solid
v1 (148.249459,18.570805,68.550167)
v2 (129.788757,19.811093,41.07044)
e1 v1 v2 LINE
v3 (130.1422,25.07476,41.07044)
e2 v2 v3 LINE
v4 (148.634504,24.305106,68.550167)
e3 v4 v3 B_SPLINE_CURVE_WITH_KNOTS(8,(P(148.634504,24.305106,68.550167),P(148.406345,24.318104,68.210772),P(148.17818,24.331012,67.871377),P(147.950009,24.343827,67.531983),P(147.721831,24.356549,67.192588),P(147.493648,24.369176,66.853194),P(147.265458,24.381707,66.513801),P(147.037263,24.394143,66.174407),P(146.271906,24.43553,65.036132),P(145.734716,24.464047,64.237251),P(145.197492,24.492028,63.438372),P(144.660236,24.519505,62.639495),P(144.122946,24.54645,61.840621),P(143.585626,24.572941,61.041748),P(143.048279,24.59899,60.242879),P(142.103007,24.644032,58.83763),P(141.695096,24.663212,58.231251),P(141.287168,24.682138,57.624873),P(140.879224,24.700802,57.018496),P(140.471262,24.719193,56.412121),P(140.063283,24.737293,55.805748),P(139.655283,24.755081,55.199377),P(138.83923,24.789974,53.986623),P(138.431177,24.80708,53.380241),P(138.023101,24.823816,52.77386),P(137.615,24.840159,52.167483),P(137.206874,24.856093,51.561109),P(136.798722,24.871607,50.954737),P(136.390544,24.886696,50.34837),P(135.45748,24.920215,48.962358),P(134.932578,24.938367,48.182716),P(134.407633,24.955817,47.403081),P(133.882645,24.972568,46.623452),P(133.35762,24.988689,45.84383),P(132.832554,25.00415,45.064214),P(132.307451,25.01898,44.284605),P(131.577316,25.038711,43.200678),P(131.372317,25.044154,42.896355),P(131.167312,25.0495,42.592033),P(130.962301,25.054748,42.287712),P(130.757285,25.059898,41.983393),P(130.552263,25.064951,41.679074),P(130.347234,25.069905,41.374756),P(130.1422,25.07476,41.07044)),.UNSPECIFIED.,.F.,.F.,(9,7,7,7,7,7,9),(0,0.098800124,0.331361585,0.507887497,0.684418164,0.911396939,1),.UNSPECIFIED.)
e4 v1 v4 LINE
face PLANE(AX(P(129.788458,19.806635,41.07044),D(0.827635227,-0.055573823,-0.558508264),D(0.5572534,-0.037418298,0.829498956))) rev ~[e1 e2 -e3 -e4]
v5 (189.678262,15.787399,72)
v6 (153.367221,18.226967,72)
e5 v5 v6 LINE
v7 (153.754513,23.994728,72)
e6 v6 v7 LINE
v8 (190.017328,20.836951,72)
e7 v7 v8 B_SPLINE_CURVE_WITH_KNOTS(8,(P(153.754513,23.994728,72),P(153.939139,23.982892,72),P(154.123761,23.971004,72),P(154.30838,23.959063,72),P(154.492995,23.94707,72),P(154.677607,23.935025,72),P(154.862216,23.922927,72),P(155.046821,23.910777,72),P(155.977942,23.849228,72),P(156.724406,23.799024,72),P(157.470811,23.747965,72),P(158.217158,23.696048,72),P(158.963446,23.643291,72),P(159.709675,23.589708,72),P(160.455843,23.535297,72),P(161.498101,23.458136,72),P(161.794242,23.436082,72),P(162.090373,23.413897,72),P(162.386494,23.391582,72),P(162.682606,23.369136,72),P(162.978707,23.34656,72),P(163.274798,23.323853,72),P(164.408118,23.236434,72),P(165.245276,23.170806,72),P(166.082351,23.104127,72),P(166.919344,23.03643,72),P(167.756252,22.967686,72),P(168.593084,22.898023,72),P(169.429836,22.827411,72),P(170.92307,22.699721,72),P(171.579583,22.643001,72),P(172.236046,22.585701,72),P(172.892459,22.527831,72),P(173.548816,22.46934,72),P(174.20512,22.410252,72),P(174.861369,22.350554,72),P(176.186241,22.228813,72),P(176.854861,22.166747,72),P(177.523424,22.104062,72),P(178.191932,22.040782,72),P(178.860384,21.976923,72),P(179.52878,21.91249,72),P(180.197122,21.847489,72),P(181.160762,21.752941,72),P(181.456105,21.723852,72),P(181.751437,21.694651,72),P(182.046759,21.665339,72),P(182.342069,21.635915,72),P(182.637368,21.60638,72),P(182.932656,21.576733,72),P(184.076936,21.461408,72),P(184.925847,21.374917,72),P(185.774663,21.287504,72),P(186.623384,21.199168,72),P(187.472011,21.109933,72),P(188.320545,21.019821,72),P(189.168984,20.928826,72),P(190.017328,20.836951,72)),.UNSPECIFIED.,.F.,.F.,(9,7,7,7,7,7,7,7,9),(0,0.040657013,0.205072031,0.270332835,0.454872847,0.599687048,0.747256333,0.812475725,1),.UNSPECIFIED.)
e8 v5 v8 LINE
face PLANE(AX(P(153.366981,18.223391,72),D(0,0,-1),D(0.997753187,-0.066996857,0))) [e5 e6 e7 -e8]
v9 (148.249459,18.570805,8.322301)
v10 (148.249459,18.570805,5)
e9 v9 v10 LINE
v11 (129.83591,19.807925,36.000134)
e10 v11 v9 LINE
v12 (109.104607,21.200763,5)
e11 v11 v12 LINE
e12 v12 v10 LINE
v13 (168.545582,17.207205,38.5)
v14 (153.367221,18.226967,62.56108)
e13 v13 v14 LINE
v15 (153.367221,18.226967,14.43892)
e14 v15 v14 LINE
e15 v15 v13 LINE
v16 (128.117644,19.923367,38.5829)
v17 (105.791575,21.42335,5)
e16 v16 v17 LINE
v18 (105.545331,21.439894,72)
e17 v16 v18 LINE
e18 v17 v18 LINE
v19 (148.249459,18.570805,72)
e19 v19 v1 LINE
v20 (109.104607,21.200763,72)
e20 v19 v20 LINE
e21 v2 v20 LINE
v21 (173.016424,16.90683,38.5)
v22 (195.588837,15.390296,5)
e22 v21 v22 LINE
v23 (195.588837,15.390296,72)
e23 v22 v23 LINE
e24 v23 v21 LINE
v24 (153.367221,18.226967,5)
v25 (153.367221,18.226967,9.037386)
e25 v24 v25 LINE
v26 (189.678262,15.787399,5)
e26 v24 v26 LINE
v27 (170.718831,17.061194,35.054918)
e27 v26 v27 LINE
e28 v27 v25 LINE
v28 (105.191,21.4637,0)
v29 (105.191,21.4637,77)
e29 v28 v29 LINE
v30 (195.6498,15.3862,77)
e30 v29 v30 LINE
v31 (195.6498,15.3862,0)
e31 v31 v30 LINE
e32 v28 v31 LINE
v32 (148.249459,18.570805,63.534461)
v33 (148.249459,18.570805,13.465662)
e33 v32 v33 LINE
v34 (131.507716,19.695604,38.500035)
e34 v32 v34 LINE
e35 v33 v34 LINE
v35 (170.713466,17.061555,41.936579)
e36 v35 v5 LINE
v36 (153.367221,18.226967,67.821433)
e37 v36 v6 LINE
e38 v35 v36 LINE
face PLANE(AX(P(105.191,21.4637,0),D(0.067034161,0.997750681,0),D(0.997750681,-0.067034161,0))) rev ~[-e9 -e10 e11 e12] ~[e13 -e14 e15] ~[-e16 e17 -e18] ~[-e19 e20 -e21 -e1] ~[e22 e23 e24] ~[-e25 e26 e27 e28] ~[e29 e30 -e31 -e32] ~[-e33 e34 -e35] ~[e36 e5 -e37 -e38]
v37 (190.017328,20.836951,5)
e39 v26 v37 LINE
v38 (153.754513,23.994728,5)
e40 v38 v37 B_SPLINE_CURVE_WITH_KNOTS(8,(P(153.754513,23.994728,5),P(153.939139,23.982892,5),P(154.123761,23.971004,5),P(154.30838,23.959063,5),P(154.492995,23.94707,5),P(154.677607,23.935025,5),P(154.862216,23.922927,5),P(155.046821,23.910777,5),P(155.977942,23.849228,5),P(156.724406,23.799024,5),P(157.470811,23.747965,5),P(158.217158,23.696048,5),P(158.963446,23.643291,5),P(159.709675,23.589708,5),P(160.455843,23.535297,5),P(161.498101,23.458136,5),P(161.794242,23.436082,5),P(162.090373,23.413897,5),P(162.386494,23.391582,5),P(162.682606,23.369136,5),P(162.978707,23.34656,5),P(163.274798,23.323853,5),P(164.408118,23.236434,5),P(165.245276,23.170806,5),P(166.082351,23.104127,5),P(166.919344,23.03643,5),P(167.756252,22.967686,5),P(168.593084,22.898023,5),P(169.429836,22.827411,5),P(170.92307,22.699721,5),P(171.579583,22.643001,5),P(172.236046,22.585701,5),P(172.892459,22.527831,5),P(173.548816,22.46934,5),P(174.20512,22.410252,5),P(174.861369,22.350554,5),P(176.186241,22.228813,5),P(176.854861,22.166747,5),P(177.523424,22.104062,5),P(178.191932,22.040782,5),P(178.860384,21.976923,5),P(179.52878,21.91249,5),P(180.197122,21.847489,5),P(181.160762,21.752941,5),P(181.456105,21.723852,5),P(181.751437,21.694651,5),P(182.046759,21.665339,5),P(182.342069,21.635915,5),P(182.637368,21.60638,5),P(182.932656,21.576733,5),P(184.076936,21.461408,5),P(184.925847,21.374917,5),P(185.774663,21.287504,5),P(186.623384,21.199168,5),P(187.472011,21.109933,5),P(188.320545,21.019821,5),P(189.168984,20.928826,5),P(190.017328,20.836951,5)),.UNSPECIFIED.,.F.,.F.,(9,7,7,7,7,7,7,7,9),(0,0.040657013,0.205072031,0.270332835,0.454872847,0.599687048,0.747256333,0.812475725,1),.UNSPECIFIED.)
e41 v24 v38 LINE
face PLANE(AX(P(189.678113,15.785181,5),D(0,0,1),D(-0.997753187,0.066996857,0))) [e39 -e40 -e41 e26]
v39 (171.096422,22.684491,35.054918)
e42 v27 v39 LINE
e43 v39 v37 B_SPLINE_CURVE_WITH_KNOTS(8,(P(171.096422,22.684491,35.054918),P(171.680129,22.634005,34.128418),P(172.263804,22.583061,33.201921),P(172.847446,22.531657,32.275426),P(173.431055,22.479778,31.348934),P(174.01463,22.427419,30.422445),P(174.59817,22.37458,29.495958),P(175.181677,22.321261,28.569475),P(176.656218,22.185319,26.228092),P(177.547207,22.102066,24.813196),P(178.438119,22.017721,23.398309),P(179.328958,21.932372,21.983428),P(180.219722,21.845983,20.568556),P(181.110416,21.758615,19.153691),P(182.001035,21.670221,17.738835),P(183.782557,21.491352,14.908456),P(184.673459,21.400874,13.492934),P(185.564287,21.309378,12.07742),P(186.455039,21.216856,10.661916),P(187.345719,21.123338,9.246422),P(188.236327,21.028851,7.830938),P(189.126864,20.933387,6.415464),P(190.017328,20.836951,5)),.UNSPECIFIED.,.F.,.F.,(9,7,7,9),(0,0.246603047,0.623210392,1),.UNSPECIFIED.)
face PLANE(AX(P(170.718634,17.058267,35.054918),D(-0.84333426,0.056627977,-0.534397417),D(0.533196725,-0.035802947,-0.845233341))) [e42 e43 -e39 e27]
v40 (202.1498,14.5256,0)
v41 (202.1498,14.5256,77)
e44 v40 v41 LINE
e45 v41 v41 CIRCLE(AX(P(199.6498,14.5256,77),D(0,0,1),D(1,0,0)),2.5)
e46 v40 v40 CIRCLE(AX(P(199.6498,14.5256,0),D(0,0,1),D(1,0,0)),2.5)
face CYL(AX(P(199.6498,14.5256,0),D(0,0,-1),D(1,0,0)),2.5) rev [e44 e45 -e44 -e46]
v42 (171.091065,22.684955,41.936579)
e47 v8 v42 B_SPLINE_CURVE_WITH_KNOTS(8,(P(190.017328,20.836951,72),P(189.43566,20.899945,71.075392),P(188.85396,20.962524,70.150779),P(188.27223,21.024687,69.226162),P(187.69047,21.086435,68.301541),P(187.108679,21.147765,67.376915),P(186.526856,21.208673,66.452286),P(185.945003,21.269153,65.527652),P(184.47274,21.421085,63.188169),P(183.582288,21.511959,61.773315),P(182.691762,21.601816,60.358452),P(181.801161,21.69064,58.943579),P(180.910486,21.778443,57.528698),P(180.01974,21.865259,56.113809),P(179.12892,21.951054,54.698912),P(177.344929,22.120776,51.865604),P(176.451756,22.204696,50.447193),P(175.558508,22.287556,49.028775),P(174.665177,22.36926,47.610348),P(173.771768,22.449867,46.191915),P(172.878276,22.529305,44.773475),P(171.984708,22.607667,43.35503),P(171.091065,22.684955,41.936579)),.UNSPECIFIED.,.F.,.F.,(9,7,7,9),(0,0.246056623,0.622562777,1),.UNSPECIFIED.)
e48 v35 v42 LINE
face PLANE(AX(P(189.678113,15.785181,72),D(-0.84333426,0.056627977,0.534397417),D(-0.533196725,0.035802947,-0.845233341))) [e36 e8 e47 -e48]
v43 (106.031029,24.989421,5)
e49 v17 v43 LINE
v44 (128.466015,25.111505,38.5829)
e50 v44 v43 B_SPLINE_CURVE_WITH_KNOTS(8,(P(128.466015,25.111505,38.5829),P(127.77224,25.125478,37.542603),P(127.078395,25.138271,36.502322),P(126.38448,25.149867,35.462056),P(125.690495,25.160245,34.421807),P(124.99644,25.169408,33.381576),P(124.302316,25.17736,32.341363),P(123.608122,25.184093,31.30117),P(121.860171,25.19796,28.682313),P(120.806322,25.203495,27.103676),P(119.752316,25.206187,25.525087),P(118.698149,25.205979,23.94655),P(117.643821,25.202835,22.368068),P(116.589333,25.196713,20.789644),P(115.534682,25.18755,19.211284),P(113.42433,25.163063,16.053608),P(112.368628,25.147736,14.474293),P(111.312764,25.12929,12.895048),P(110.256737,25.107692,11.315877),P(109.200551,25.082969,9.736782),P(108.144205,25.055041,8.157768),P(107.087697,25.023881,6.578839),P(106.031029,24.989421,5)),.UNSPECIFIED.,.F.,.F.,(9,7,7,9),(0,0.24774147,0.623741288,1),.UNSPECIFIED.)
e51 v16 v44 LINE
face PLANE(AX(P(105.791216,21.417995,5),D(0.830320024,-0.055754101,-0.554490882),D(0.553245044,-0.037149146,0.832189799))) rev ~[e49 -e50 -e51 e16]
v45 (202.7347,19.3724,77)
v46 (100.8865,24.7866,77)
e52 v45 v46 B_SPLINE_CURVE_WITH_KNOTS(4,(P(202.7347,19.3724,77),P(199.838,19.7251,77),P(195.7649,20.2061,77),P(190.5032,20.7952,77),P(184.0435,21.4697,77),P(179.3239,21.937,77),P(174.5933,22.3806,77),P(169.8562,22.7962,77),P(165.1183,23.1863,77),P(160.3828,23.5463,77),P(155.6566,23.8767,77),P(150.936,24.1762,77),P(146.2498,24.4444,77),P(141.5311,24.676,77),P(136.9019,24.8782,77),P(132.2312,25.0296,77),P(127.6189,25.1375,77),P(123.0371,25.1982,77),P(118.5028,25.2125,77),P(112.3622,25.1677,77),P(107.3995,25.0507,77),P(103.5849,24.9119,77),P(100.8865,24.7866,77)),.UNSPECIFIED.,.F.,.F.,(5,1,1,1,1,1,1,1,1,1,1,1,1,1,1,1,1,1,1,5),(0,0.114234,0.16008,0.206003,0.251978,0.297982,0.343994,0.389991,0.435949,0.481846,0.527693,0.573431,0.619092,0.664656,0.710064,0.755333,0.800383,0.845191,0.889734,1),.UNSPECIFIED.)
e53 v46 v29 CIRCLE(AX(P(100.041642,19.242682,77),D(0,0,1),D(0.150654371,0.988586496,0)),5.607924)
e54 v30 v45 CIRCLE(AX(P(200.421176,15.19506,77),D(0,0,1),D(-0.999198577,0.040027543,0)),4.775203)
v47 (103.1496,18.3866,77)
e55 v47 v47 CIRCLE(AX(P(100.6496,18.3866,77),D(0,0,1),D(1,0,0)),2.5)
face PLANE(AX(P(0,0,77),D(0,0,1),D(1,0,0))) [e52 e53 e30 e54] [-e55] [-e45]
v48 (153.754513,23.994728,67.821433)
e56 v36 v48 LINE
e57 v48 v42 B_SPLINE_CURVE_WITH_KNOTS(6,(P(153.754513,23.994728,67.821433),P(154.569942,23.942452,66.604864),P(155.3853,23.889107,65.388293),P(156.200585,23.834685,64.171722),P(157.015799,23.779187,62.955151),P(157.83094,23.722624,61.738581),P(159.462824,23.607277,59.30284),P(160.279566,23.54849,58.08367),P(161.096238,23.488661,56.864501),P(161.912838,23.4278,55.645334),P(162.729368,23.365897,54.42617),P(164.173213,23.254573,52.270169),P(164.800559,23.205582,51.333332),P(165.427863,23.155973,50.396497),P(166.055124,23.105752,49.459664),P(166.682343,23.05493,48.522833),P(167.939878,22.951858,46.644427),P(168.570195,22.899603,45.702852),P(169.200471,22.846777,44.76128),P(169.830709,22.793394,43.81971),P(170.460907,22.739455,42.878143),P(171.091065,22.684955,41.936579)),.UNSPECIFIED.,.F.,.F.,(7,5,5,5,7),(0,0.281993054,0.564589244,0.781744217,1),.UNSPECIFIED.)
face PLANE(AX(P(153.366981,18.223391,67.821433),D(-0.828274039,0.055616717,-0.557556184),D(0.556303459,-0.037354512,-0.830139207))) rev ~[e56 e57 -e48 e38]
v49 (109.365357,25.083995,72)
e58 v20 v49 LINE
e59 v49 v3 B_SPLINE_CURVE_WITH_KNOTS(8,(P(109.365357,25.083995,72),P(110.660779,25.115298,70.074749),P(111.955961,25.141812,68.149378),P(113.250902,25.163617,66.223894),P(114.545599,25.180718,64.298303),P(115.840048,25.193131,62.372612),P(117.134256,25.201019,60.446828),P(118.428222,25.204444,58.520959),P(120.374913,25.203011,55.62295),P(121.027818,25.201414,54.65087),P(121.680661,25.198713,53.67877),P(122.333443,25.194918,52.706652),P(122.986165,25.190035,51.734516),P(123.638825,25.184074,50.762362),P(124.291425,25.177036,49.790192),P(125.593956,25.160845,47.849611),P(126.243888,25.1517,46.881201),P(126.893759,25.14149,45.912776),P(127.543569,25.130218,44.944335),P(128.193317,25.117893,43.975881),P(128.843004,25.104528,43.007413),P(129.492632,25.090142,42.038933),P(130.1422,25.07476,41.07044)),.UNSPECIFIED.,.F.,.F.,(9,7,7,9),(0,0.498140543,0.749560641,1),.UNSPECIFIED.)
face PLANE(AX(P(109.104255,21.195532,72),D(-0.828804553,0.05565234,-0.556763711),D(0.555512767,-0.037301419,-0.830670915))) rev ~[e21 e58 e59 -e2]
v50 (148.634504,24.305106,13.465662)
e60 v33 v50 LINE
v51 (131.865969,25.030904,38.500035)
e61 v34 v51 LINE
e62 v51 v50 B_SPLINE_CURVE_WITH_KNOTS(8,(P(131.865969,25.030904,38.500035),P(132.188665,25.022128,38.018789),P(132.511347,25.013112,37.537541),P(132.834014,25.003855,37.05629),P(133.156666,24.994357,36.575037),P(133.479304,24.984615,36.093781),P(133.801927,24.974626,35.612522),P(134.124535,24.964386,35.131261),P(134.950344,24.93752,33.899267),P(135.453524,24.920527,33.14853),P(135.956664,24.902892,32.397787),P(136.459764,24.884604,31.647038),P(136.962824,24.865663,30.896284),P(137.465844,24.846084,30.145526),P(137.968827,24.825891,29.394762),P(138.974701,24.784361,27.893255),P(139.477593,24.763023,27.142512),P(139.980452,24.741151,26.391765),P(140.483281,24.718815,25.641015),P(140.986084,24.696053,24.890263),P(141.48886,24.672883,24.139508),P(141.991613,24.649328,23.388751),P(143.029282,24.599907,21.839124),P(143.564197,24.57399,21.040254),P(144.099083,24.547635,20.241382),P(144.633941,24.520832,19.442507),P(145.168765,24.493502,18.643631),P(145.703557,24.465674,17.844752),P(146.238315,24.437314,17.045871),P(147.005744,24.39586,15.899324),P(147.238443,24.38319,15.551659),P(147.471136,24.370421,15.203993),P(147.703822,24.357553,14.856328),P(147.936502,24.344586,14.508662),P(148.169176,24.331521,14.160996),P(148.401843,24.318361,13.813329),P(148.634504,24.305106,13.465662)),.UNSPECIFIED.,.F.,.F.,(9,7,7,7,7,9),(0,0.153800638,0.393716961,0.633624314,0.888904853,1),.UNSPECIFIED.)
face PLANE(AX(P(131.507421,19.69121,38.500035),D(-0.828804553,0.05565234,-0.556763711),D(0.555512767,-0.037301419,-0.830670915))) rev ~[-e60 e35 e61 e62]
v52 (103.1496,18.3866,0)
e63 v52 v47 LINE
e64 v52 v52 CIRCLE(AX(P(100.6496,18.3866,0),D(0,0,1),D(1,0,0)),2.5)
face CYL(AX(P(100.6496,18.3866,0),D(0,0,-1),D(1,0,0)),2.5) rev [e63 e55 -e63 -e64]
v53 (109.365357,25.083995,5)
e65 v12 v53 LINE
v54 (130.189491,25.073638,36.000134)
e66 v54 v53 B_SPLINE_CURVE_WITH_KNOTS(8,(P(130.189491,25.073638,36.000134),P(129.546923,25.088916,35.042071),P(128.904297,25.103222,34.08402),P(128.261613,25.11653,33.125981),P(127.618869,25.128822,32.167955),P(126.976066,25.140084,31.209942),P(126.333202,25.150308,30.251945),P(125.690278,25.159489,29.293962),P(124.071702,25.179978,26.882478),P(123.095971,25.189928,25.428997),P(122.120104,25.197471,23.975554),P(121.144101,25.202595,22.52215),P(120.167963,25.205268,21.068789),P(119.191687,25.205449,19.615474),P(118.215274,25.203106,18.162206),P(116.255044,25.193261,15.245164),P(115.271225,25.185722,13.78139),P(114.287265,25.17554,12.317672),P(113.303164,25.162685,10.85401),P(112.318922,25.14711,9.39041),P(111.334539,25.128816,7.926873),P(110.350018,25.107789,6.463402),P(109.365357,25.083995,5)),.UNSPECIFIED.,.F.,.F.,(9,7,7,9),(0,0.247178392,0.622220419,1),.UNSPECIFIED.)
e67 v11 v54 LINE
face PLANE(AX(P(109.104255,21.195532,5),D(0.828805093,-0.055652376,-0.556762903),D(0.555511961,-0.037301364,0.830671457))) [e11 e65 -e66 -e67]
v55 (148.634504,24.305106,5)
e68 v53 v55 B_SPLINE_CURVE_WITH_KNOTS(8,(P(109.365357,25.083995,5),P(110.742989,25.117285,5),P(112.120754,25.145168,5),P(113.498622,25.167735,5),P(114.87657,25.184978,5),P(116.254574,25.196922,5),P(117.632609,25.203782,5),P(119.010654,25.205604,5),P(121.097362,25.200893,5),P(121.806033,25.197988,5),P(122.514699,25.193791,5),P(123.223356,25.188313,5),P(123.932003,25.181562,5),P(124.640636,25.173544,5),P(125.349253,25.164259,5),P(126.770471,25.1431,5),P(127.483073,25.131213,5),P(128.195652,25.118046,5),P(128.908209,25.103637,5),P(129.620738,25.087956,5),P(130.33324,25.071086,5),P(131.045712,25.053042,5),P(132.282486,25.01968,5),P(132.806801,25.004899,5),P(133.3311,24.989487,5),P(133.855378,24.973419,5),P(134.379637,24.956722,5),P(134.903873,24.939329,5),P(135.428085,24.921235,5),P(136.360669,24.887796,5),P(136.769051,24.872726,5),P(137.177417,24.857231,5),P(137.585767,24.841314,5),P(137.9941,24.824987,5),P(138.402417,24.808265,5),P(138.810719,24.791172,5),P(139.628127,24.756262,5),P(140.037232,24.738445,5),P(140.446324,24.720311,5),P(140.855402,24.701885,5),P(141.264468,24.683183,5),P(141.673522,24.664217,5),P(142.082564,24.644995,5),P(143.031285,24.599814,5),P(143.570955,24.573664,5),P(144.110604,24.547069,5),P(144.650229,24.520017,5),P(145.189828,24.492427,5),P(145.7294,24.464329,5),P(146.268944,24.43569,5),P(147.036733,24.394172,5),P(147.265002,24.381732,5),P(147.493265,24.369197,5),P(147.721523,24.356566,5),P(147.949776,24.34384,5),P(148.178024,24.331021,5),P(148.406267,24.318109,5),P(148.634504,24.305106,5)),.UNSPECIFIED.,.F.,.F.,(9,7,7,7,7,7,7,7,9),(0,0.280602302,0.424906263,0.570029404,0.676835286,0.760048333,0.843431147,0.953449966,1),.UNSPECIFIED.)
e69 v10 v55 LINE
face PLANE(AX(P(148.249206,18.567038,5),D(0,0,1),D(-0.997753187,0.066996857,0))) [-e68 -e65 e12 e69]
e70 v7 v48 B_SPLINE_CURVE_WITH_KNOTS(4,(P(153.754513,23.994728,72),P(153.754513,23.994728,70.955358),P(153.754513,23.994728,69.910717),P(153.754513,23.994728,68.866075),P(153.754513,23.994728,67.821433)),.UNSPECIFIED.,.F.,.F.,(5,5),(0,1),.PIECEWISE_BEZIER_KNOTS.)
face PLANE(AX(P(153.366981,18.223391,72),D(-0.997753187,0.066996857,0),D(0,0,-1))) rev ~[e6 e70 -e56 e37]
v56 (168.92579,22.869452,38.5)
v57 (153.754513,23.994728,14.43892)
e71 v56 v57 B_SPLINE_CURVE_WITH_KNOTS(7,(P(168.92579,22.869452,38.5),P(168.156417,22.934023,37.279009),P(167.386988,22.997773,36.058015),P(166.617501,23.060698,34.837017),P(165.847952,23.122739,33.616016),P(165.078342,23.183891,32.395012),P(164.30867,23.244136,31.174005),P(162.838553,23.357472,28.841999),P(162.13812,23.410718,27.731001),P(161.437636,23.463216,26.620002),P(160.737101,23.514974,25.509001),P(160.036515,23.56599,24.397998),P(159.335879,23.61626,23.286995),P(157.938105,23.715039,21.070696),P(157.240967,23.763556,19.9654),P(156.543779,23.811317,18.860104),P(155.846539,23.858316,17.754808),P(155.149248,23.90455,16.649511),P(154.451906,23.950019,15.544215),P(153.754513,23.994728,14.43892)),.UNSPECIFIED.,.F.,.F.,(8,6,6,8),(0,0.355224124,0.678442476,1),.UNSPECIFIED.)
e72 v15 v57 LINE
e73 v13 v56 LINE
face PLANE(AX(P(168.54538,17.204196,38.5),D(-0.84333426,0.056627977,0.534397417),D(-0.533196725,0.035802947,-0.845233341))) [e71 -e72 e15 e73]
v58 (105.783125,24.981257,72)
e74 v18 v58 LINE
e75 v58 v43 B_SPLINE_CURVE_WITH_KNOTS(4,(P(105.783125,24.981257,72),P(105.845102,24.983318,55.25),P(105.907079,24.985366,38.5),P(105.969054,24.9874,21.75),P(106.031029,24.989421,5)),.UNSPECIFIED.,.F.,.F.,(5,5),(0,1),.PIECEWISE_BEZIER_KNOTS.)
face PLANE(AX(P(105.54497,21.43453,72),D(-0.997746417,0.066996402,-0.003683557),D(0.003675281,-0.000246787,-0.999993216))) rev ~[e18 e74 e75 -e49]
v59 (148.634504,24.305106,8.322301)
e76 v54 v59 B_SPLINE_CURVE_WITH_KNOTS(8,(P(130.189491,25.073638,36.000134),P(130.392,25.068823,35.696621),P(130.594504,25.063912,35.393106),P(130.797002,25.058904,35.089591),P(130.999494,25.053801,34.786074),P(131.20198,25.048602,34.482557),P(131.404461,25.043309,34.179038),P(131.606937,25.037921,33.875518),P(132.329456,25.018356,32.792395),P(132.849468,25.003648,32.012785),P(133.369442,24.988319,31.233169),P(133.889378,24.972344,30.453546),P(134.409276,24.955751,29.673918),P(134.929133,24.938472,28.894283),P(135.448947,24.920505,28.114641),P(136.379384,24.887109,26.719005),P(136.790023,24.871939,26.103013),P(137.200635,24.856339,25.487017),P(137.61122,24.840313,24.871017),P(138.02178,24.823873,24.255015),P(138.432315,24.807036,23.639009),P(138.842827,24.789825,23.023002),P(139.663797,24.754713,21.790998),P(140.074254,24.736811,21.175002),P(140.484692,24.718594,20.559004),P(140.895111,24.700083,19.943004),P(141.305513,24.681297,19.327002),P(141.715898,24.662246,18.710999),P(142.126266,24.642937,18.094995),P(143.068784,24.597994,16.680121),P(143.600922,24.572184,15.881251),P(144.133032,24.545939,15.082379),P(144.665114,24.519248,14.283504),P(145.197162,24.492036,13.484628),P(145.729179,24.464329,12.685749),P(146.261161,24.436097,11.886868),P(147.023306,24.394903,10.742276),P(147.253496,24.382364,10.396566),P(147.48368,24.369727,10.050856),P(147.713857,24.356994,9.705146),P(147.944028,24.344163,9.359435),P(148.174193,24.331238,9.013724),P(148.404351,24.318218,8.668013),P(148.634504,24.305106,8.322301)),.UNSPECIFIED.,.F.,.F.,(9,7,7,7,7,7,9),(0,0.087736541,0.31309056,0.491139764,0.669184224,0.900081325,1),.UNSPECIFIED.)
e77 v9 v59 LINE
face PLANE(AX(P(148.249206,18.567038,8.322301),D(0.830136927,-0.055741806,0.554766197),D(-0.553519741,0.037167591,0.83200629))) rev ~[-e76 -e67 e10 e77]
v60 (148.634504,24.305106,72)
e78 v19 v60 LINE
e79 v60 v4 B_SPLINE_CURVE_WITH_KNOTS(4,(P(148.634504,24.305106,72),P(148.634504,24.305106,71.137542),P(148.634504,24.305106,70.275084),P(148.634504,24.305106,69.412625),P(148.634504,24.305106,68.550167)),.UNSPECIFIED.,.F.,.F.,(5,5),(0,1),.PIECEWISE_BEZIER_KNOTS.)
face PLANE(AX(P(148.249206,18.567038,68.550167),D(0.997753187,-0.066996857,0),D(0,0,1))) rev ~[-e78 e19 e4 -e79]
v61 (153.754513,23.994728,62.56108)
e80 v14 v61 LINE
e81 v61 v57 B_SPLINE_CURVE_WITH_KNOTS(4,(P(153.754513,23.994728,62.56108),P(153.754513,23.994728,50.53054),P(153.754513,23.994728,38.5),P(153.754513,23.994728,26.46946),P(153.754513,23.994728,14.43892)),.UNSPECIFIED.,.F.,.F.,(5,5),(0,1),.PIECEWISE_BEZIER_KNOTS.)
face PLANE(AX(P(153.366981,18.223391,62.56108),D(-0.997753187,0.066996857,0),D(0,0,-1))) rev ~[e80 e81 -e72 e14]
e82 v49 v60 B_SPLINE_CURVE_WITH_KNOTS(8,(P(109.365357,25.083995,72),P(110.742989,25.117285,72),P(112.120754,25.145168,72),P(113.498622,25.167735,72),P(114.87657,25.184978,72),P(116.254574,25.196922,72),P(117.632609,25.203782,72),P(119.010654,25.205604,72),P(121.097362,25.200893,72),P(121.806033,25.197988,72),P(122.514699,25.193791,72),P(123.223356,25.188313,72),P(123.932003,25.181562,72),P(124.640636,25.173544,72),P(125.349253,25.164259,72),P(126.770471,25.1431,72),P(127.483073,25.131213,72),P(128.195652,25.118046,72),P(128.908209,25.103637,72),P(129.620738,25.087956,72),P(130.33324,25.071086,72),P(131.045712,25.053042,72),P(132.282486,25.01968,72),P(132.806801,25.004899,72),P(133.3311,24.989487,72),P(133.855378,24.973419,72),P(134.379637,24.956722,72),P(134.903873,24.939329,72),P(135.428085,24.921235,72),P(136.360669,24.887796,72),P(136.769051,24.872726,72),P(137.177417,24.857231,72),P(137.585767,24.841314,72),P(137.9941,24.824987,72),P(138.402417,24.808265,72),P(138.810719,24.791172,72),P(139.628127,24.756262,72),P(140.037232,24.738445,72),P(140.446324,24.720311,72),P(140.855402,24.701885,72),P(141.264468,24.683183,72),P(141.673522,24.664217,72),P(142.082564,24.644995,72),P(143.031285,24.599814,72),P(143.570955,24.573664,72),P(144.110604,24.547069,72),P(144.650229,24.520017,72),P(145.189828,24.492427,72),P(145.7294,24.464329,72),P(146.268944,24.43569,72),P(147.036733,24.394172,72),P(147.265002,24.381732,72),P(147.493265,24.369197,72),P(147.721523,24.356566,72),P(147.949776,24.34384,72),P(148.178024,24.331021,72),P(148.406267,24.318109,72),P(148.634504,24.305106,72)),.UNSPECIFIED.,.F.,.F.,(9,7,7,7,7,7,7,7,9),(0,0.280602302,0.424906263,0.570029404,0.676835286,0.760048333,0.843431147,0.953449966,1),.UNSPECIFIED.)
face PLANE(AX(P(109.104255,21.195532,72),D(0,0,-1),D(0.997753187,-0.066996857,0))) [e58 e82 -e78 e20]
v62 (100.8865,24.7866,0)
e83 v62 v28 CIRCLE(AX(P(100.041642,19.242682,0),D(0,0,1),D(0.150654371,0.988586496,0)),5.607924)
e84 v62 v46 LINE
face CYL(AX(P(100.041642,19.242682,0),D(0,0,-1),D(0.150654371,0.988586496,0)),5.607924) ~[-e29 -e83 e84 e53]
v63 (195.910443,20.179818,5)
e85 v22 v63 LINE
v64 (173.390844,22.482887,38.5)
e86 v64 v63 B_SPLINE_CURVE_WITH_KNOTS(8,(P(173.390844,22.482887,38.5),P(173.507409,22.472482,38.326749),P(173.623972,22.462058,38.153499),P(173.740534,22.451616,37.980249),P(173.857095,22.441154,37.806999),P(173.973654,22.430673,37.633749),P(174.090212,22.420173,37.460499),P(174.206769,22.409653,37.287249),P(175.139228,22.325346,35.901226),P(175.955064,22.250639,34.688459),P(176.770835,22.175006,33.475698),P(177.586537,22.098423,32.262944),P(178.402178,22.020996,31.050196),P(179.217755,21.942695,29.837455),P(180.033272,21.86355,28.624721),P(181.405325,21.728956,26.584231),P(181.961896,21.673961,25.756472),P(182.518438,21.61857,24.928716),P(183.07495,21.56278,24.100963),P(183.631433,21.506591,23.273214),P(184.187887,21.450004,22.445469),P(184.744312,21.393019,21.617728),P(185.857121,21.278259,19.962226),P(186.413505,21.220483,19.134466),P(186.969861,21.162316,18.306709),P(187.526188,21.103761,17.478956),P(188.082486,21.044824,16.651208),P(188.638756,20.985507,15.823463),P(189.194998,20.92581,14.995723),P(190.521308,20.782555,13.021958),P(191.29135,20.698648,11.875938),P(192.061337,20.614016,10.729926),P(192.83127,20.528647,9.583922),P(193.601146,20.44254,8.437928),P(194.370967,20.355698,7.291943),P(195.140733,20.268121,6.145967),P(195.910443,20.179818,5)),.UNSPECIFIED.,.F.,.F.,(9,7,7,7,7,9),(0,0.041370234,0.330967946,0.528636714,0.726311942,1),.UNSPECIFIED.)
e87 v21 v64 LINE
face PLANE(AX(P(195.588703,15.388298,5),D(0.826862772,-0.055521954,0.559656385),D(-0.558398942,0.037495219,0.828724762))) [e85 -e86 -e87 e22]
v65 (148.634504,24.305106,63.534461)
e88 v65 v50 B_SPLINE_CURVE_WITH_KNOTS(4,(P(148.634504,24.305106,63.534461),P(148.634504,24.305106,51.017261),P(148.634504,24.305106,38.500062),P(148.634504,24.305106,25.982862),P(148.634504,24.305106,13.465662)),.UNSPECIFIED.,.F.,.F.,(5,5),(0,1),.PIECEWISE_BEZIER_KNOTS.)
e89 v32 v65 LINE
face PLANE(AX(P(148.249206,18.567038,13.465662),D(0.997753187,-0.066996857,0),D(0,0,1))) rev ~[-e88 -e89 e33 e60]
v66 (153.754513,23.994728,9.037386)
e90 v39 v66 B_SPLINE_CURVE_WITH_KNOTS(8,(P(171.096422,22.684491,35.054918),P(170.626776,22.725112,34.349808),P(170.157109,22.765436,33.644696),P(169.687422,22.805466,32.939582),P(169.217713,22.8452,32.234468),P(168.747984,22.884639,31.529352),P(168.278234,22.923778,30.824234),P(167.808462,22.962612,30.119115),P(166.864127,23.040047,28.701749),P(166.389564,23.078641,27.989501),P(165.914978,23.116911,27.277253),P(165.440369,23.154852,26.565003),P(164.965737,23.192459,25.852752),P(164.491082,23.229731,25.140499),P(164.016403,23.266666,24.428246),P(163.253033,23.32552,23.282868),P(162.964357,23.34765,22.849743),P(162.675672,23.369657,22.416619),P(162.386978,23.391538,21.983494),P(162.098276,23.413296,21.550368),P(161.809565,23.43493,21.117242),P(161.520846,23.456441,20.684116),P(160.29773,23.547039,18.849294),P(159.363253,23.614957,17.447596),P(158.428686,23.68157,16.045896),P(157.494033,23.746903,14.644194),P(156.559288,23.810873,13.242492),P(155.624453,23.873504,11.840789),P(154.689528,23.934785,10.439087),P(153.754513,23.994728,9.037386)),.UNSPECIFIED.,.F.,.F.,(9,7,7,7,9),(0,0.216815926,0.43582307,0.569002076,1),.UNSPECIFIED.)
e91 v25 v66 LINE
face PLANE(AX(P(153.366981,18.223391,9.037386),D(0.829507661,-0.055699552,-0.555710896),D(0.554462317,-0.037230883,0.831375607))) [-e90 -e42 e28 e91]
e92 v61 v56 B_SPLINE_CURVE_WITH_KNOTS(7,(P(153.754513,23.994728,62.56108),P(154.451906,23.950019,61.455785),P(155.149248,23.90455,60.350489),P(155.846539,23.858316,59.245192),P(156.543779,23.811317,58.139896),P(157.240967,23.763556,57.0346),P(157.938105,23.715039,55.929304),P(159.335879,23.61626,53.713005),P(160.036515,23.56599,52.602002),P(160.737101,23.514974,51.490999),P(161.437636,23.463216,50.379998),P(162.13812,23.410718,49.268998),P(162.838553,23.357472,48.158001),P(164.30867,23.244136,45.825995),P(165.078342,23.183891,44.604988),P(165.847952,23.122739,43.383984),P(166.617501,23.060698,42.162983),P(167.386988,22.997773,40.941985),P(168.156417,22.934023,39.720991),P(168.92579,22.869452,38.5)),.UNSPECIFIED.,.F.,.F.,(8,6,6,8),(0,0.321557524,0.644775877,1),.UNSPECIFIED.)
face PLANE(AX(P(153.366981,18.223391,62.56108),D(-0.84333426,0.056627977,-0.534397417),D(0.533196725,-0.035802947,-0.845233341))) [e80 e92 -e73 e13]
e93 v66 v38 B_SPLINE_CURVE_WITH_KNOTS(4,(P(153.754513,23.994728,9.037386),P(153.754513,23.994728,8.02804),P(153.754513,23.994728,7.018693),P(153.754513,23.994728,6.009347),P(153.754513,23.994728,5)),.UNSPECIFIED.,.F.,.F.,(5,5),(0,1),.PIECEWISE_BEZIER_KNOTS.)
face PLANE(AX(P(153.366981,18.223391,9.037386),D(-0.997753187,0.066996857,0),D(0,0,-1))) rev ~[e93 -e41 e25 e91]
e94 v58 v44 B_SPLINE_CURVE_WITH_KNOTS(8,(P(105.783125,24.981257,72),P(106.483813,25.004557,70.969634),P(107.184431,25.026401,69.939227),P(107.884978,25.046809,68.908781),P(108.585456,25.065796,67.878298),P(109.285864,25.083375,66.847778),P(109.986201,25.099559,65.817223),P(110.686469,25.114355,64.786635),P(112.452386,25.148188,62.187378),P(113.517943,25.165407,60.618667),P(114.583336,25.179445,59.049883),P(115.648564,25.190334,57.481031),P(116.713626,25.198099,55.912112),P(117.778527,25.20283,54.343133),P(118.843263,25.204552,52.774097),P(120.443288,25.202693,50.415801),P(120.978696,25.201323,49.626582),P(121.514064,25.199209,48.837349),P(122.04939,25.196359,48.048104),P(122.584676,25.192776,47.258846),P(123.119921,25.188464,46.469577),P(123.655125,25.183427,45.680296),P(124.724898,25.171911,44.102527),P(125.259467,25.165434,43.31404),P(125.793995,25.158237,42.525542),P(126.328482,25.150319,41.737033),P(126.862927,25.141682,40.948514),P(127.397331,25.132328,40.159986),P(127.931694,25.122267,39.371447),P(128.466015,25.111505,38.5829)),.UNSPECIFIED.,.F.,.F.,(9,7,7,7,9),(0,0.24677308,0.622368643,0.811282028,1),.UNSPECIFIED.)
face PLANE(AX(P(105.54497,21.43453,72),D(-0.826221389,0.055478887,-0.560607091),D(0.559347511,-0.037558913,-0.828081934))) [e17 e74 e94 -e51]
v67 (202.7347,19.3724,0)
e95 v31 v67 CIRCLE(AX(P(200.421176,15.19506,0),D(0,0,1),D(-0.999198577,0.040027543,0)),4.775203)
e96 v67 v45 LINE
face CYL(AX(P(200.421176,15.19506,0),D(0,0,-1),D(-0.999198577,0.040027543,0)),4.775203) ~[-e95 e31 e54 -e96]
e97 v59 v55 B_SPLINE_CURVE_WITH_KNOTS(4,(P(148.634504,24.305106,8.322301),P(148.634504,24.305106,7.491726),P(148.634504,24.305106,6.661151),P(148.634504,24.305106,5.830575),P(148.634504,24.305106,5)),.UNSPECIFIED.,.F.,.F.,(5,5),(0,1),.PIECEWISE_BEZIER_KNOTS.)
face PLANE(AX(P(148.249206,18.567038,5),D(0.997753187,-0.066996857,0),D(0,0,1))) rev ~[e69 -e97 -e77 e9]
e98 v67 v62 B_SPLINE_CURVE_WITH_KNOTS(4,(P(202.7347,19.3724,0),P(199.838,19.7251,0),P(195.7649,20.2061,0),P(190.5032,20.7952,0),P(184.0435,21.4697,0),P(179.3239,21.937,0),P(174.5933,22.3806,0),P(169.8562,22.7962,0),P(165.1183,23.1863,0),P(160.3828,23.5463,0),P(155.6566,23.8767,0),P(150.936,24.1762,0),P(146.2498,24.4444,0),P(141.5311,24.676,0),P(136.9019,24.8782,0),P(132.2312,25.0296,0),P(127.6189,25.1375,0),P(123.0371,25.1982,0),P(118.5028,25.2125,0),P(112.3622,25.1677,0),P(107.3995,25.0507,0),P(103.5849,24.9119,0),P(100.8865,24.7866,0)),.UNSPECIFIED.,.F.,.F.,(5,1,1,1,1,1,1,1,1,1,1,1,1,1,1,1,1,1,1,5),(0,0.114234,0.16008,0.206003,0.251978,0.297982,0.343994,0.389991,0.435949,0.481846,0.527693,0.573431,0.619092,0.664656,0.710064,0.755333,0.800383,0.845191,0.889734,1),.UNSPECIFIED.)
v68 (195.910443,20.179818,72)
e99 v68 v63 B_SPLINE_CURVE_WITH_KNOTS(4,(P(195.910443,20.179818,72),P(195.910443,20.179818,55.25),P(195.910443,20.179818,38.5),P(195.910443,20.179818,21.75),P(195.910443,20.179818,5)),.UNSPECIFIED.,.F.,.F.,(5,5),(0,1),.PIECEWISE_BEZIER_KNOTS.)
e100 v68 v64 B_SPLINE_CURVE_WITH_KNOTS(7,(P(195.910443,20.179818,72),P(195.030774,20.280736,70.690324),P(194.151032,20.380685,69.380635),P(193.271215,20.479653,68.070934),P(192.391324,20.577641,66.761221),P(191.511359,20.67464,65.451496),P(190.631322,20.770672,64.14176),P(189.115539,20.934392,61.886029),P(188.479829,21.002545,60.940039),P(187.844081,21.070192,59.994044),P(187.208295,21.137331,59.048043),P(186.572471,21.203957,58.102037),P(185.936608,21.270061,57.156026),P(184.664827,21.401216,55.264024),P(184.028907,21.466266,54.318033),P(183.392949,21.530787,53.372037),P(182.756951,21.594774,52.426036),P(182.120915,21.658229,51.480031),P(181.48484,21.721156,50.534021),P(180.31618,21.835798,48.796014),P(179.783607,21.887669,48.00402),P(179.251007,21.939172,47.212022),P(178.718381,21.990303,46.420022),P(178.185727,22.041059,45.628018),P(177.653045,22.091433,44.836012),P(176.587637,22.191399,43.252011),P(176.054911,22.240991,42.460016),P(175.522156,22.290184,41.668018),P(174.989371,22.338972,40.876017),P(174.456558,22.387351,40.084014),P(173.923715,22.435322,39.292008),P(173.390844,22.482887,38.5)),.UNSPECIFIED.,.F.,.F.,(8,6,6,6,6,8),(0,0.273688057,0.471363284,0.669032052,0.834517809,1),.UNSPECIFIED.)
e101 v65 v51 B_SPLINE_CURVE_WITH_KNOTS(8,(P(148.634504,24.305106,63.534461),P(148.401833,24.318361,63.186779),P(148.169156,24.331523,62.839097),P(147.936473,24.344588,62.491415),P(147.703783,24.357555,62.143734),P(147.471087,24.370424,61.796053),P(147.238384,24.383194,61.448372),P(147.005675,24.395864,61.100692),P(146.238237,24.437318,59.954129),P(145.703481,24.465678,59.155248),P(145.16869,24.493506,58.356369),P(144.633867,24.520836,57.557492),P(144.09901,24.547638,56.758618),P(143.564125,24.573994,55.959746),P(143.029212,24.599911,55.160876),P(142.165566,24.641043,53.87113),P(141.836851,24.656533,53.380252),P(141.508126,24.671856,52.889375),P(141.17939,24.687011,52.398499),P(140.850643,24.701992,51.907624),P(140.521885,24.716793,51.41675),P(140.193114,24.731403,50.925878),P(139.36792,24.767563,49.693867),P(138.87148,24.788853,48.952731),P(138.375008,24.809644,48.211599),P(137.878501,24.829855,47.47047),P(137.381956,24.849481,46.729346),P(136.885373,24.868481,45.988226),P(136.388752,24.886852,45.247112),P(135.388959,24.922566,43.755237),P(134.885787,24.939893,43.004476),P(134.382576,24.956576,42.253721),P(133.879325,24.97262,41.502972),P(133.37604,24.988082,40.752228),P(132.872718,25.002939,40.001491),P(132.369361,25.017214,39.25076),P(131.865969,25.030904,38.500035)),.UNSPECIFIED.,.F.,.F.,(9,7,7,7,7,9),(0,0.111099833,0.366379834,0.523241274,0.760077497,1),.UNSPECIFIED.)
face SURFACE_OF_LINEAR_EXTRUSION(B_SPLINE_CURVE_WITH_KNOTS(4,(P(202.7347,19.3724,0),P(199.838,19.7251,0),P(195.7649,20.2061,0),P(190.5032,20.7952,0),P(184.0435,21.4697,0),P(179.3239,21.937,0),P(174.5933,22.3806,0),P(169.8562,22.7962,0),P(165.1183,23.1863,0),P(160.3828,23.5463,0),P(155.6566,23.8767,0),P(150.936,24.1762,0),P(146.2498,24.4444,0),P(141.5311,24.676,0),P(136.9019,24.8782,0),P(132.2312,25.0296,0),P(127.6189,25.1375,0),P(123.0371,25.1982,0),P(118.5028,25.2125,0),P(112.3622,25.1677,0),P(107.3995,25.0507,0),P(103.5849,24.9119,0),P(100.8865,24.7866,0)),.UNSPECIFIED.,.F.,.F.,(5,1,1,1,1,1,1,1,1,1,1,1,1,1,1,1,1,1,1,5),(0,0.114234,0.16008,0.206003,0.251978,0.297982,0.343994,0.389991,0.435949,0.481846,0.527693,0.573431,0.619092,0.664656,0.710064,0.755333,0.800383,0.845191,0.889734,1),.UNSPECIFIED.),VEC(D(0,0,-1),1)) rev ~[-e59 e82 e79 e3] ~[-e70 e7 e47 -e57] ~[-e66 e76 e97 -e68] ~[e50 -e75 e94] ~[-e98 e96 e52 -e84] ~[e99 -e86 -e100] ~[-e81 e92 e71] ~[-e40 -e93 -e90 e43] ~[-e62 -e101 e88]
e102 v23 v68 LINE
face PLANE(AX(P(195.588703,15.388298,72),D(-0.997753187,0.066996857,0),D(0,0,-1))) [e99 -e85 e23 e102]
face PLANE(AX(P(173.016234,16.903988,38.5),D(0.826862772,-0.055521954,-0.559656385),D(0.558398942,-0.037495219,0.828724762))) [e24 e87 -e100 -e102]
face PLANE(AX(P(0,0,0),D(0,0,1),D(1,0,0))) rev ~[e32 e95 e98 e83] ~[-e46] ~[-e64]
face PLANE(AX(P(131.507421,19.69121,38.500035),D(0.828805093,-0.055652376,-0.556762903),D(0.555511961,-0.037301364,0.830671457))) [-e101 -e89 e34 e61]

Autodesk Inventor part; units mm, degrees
ref_plane "YZ Plane" through (0, 0, 0) normal (1, 0, 0) x (0, 1, 0)
ref_plane "XZ Plane" through (0, 0, 0) normal (0, 1, 0) x (-1, 0, 0)
ref_plane "XY Plane" through (0, 0, 0) normal (0, 0, 1) x (1, 0, 0)
sketch "Sketch2" plane through (0, 0, 0) normal (0, 0, 1) x (1, 0, 0)
  spline S0 degree 5 number of poles 204
  circle A0 centre (79.5137, 4.5678) radius 15.1135
  line L0 (79.5137, 4.5678) -> (79.5137, -15.4763) construction
  line L1 (79.5137, 4.5678) -> (209.6498, 4.5678) construction
  line L2 (319.6498, 0.0573) -> (219.6498, 0.0573) construction
  line L3 (219.6499, 18.7671) -> (219.6499, 18.7671) construction
  line L4 (28.0055, 4.5054) -> (28.0055, -2.4946)
  line L5 (19.6272, 1.0326) -> (319.6498, 0.0573) construction
  line L6 (49.7105, 14.4213) -> (55.6079, 14.4213)
  line L7 (49.7104, -8.4915) -> (55.6078, -8.4915)
  line L8 (28.0055, 4.5054) -> (49.7105, 14.4213)
  line L9 (28.0055, -2.4946) -> (49.7104, -8.4915)
  line L10 (55.6079, 14.4213) -> (55.6079, 20.8729)
  line L11 (55.6078, -8.4915) -> (55.6078, -14.1513)
  line L12 (108.6496, 16.3299) -> (108.6496, -7.1942)
  line L13 (110.8735, -9.1817) -> (193.8736, 0.1678)
  line L14 (195.6498, 2.1552) -> (195.6498, 6.9805)
  arc A1 (108.6496, -7.1942) -> (110.8735, -9.1817) centre (110.6496, -7.1942) ccw
  arc A2 (193.8736, 0.1678) -> (195.6498, 2.1552) centre (193.6498, 2.1552) ccw
  circle A3 centre (209.6498, 0.0573) radius 6.214
  line L15 (108.6496, 18.5678) -> (195.6498, 8.7678)
  circle A4 centre (100.6496, 18.3866) radius 2.5
  circle A5 centre (199.6498, 14.5256) radius 2.5
  spline S1 degree 4 poles (202.7347, 19.3724) (199.838, 19.7251) (195.7649, 20.2061) (190.5032, 20.7952) (184.0435, 21.4697) (179.3239, 21.937) (174.5933, 22.3806) (169.8562, 22.7962) (165.1183, 23.1863) (160.3828, 23.5463) (155.6566, 23.8767) (150.936, 24.1762) (146.2498, 24.4444) (141.5311, 24.676) (136.9019, 24.8782) (132.2312, 25.0296) (127.6189, 25.1375) (123.0371, 25.1982) (118.5028, 25.2125) (112.3622, 25.1677) (107.3995, 25.0507) (103.5849, 24.9119) (100.8865, 24.7866) knots 0 0 0 0 0 0.114234 0.16008 0.206003 0.251978 0.297982 0.343994 0.389991 0.435949 0.481846 0.527693 0.573431 0.619092 0.664656 0.710064 0.755333 0.800383 0.845191 0.889734 1 1 1 1 1
  line L16 (105.191, 21.4637) -> (195.6498, 15.3862)
  arc A6 (100.8865, 24.7866) -> (105.191, 21.4637) centre (100.0416, 19.2427) ccw
  arc A7 (195.6498, 15.3862) -> (202.7347, 19.3724) centre (200.4212, 15.1951) ccw
  point P0 (0, 0)
  point P1 (319.5771, 0.0748)
  point P2 (319.3573, 0.1272)
  point P3 (318.9916, 0.2136)
  point P4 (318.4804, 0.3362)
  point P5 (317.8238, 0.4909)
  point P6 (317.0222, 0.6802)
  point P7 (316.0769, 0.9024)
  point P8 (314.9885, 1.1569)
  point P9 (313.7582, 1.443)
  point P10 (312.3866, 1.7598)
  point P11 (310.8752, 2.1063)
  point P12 (309.2258, 2.4819)
  point P13 (307.4393, 2.8854)
  point P14 (305.5178, 3.3153)
  point P15 (303.4628, 3.7707)
  point P16 (301.2764, 4.2501)
  point P17 (298.9607, 4.7526)
  point P18 (296.5175, 5.2764)
  point P19 (293.9492, 5.8203)
  point P20 (291.2585, 6.3828)
  point P21 (288.4478, 6.9627)
  point P22 (285.5195, 7.5582)
  point P23 (282.4766, 8.1678)
  point P24 (279.3218, 8.79)
  point P25 (276.0584, 9.4236)
  point P26 (272.6891, 10.0668)
  point P27 (269.2175, 10.7178)
  point P28 (265.6469, 11.3757)
  point P29 (261.9803, 12.0381)
  point P30 (258.2219, 12.7041)
  point P31 (254.3747, 13.3722)
  point P32 (250.4426, 14.0403)
  point P33 (246.4295, 14.7072)
  point P34 (242.339, 15.3714)
  point P35 (238.1756, 16.0311)
  point P36 (233.9428, 16.6851)
  point P37 (229.6454, 17.3316)
  point P38 (225.2869, 17.9694)
  point P39 (220.8723, 18.5967)
  point P40 (216.4049, 19.2123)
  point P41 (211.8901, 19.8144)
  point P42 (207.332, 20.4015)
  point P43 (202.7347, 20.9724)
  point P44 (198.1034, 21.5256)
  point P45 (193.4423, 22.0596)
  point P46 (188.7563, 22.5726)
  point P47 (184.0499, 23.0637)
  point P48 (179.3279, 23.5314)
  point P49 (174.5948, 23.9745)
  point P50 (169.8554, 24.3909)
  point P51 (165.1148, 24.7803)
  point P52 (160.3775, 25.1406)
  point P53 (155.6479, 25.4709)
  point P54 (150.9316, 25.7703)
  point P55 (146.233, 26.0373)
  point P56 (141.557, 26.2707)
  point P57 (136.8821, 26.4681)
  point P58 (132.2209, 26.6211)
  point P59 (127.5964, 26.7282)
  point P60 (123.0133, 26.7888)
  point P61 (118.4761, 26.8026)
  point P62 (113.9902, 26.7693)
  point P63 (109.5601, 26.6886)
  point P64 (105.191, 26.5611)
  point P65 (100.8865, 26.3866)
  point P66 (96.6524, 26.1647)
  point P67 (92.4927, 25.8975)
  point P68 (88.412, 25.5858)
  point P69 (84.409, 25.3061)
  point P70 (80.8803, 24.9766)
  point P71 (76.6761, 24.4558)
  point P72 (72.9631, 23.8932)
  point P73 (69.3402, 23.3612)
  point P74 (65.8208, 22.7938)
  point P75 (62.4086, 22.1884)
  point P76 (59.1071, 21.5462)
  point P77 (52.8493, 20.1606)
  point P78 (49.7107, 19.4213)
  point P79 (47.0737, 18.6508)
  point P80 (44.3741, 17.8542)
  point P81 (41.8033, 17.0323)
  point P82 (39.3638, 16.1875)
  point P83 (37.0582, 15.3214)
  point P84 (34.8883, 14.4364)
  point P85 (32.8567, 13.534)
  point P86 (30.9649, 12.6166)
  point P87 (29.2144, 11.686)
  point P88 (27.607, 10.7437)
  point P89 (26.1442, 9.7921)
  point P90 (24.8269, 8.8324)
  point P91 (23.6566, 7.8664)
  point P92 (22.6337, 6.8952)
  point P93 (21.7592, 5.9208)
  point P94 (21.0335, 4.944)
  point P95 (20.4573, 3.966)
  point P96 (20.031, 2.9874)
  point P97 (19.7541, 2.0097)
  point P98 (19.6496, 0.0598)
  point P99 (19.8207, -0.9032)
  point P100 (20.1378, -1.8356)
  point P101 (20.6004, -2.7401)
  point P102 (21.2081, -3.6158)
  point P103 (21.9599, -4.4627)
  point P104 (22.8545, -5.2806)
  point P105 (23.891, -6.069)
  point P106 (25.0682, -6.8277)
  point P107 (26.3845, -7.5561)
  point P108 (27.8383, -8.2539)
  point P109 (29.4283, -8.9211)
  point P110 (31.1522, -9.5571)
  point P111 (33.0086, -10.1613)
  point P112 (34.9949, -10.734)
  point P113 (37.1093, -11.2746)
  point P114 (39.3497, -11.7828)
  point P115 (41.7134, -12.2586)
  point P116 (44.1979, -12.702)
  point P117 (46.8014, -13.1127)
  point P118 (49.7105, -13.4915)
  point P119 (52.3532, -13.8357)
  point P120 (58.3469, -14.4294)
  point P121 (61.5023, -14.678)
  point P122 (64.7591, -14.8953)
  point P123 (68.1149, -15.0813)
  point P124 (71.5661, -15.237)
  point P125 (75.1094, -15.3627)
  point P126 (78.7418, -15.4596)
  point P127 (82.46, -15.528)
  point P128 (86.2607, -15.5691)
  point P129 (90.14, -15.5838)
  point P130 (94.0946, -15.5733)
  point P131 (98.1212, -15.5388)
  point P132 (102.2159, -15.4812)
  point P133 (106.3751, -15.4023)
  point P134 (110.5952, -15.303)
  point P135 (114.872, -15.1845)
  point P136 (119.2022, -15.0489)
  point P137 (123.5813, -14.8971)
  point P138 (128.006, -14.7306)
  point P139 (132.4718, -14.5509)
  point P140 (136.9748, -14.3598)
  point P141 (141.5285, -14.1576)
  point P142 (146.1365, -13.9383)
  point P143 (150.7679, -13.7022)
  point P144 (155.4191, -13.4499)
  point P145 (160.0853, -13.1829)
  point P146 (164.7617, -12.9024)
  point P147 (169.4444, -12.6099)
  point P148 (174.1283, -12.306)
  point P149 (178.8092, -11.9925)
  point P150 (183.4823, -11.67)
  point P151 (188.1434, -11.34)
  point P152 (192.7877, -11.0037)
  point P153 (197.4107, -10.6614)
  point P154 (202.0079, -10.3149)
  point P155 (206.5747, -9.9645)
  point P156 (211.1069, -9.6117)
  point P157 (215.5999, -9.2568)
  point P158 (220.0489, -8.9007)
  point P159 (224.4503, -8.5446)
  point P160 (228.7987, -8.1885)
  point P161 (233.0906, -7.8339)
  point P162 (237.3214, -7.4808)
  point P163 (241.4866, -7.1298)
  point P164 (245.5828, -6.7821)
  point P165 (249.6052, -6.4377)
  point P166 (253.5502, -6.0972)
  point P167 (257.4136, -5.7612)
  point P168 (261.1915, -5.4303)
  point P169 (264.88, -5.1051)
  point P170 (268.4758, -4.7856)
  point P171 (271.9747, -4.4724)
  point P172 (275.3734, -4.1661)
  point P173 (278.6686, -3.867)
  point P174 (281.8564, -3.5757)
  point P175 (284.9344, -3.2925)
  point P176 (287.8984, -3.018)
  point P177 (290.7463, -2.7525)
  point P178 (293.4745, -2.4963)
  point P179 (296.0806, -2.2503)
  point P180 (298.5616, -2.0142)
  point P181 (300.9151, -1.7892)
  point P182 (303.1387, -1.575)
  point P183 (305.23, -1.3728)
  point P184 (307.1866, -1.1823)
  point P185 (309.007, -1.0041)
  point P186 (310.6885, -0.8385)
  point P187 (312.2302, -0.6861)
  point P188 (313.6297, -0.5471)
  point P189 (314.8861, -0.4221)
  point P190 (315.9976, -0.3107)
  point P191 (316.9636, -0.214)
  point P192 (317.7826, -0.1311)
  point P193 (318.4538, -0.0643)
  point P194 (318.9765, -0.0102)
  point P195 (319.3503, 0.027)
  point P196 (319.5743, 0.0497)
  point P197 (28.0055, 1.0054)
  point P198 (108.6496, -9.4322)
  point P199 (195.6498, 0.3678)
  dimension "d37" = 30.227
  dimension "d2" = 300.0001
  dimension "d19" = 110
  dimension "d22" = 100
  dimension "d23" = 7
  dimension "d24" = 5
  dimension "d25" = 5
  dimension "d30" = 28
  dimension "d31" = 8.4
  dimension "d33" = 14
  dimension "d39" = 59.8865
  dimension "d42" = 12.428
  dimension "d43" = 5
  dimension "d44" = 5
  dimension "d49" = 1.6
  dimension "d50" = 1.6
  dimension "d51" = 1.6
  dimension "d52" = 1.6
  dimension "d53" = 1.6
  dimension "d54" = 1.6
  dimension "d55" = 1.6
  dimension "d56" = 1.6
  dimension "d57" = 1.6
  dimension "d58" = 1.6
  dimension "d59" = 1.6
  dimension "d60" = 1.6
  dimension "d61" = 1.6
  dimension "d62" = 1.6
  dimension "d63" = 1.6
  dimension "d64" = 1.6
  dimension "d65" = 1.6
  dimension "d66" = 1.6
  dimension "d67" = 1.6
  dimension "d68" = 1.6
  dimension "d69" = 1.6
  dimension "d70" = 1.6
  dimension "d72" = 1.6
  dimension "d75" = 4
  dimension "d76" = 7
extrude "Extrusion8" add sketch "Sketch2" along normal blind 77 contours A7 L16 A6 S1
sketch "Sketch3" plane through (195.6498, 15.3862, 0) normal (-0.067, -0.9978, 0) x (0.9978, -0.067, 0)
  line L0 (-0.0611, 72) -> (-0.0611, 5)
  line L1 (-0.0611, 5) -> (-22.6844, 38.5)
  line L2 (-22.6844, 38.5) -> (-0.0611, 72)
  line L3 (-67.6844, 38.5829) -> (-45.1844, 72)
  line L4 (-45.1844, 72) -> (-45.1844, 4.8387)
  line L5 (-45.1844, 4.8387) -> (-67.6844, 38.5829)
  line L6 (-45.1844, 72) -> (-22.6844, 38.5)
  line L7 (-45.1844, 4.8387) -> (-22.6844, 38.5)
  line L8 (9.5487, 77) -> (0, 77) projected
  line L9 (9.5487, 0) -> (0, 0) projected
  line L10 (-90.3076, 72) -> (-90.0608, 5)
  line L11 (-90.0608, 5) -> (-67.6844, 38.5829)
  line L12 (-90.3076, 72) -> (-67.6844, 38.5829)
  line L13 (-90.0437, 77) -> (-101.2596, 77) projected
  line L14 (-90.0437, 0) -> (-101.2596, 0) projected
  line L15 (-90.3076, 72) -> (-0.0611, 72)
  line L16 (-0.0611, 5) -> (-90.0608, 5)
  line L17 (-86.7403, 72) -> (-45.0762, 9.8387)
  line L18 (-86.7403, 5) -> (-45.1844, 67)
  line L19 (-45.1844, 67) -> (-5.985, 5)
  line L20 (-5.985, 72) -> (-45.1844, 10)
  line L21 (-47.5072, 5) -> (-47.5072, 72)
  line L22 (-42.3779, 72) -> (-42.3779, 5)
  point P0 (-194.1783, 0)
  point P1 (-90.6627, 0)
  point P2 (-45.1844, 38.4194)
  point P3 (6.8018, 77)
  point P4 (6.8018, 0)
  point P5 (-95.1802, 77)
  point P6 (-90.6627, 77)
  point P7 (-95.1802, 0)
  point P8 (-27.1653, 38.5)
  point P9 (-64.2867, 38.5)
  point P10 (-24.9925, 41.9366)
  point P11 (-45.2266, 49)
  point P12 (-66.0095, 41.0704)
  point P13 (-45.2288, 49)
  point P14 (-24.9871, 35.0549)
  point P15 (-65.9622, 36.0001)
  point P16 (-42.3779, 9.0373)
  point P17 (-42.3779, 62.5611)
  point P18 (-42.3779, 14.4389)
  point P19 (-42.3779, 67.8215)
  point P20 (-47.5072, 68.5501)
  point P21 (-47.5072, 8.3224)
  point P22 (-47.5072, 13.4656)
  point P23 (-47.5072, 63.5344)
  dimension "d81" = 22.5
  dimension "d82" = 22.5
  dimension "d83" = 5
  dimension "d84" = 5
  dimension "d85" = 22.5
  dimension "d86" = 5
  dimension "d87" = 5
  dimension "d90" = 5
  dimension "d91" = 5
extrude "Extrusion9" cut sketch "Sketch3" against normal blind 10 contours L0 L1 L2 | L20 L6 L22 L15 | L16 L22 L7 L19 | L20 L22 L19 | L3 L17 L15 L21 | L21 L17 L18 | L11 L10 L12 | L21 L16 L18 L5
properties part number "2414 basic aerofoil" material "Plywood, Finish"
